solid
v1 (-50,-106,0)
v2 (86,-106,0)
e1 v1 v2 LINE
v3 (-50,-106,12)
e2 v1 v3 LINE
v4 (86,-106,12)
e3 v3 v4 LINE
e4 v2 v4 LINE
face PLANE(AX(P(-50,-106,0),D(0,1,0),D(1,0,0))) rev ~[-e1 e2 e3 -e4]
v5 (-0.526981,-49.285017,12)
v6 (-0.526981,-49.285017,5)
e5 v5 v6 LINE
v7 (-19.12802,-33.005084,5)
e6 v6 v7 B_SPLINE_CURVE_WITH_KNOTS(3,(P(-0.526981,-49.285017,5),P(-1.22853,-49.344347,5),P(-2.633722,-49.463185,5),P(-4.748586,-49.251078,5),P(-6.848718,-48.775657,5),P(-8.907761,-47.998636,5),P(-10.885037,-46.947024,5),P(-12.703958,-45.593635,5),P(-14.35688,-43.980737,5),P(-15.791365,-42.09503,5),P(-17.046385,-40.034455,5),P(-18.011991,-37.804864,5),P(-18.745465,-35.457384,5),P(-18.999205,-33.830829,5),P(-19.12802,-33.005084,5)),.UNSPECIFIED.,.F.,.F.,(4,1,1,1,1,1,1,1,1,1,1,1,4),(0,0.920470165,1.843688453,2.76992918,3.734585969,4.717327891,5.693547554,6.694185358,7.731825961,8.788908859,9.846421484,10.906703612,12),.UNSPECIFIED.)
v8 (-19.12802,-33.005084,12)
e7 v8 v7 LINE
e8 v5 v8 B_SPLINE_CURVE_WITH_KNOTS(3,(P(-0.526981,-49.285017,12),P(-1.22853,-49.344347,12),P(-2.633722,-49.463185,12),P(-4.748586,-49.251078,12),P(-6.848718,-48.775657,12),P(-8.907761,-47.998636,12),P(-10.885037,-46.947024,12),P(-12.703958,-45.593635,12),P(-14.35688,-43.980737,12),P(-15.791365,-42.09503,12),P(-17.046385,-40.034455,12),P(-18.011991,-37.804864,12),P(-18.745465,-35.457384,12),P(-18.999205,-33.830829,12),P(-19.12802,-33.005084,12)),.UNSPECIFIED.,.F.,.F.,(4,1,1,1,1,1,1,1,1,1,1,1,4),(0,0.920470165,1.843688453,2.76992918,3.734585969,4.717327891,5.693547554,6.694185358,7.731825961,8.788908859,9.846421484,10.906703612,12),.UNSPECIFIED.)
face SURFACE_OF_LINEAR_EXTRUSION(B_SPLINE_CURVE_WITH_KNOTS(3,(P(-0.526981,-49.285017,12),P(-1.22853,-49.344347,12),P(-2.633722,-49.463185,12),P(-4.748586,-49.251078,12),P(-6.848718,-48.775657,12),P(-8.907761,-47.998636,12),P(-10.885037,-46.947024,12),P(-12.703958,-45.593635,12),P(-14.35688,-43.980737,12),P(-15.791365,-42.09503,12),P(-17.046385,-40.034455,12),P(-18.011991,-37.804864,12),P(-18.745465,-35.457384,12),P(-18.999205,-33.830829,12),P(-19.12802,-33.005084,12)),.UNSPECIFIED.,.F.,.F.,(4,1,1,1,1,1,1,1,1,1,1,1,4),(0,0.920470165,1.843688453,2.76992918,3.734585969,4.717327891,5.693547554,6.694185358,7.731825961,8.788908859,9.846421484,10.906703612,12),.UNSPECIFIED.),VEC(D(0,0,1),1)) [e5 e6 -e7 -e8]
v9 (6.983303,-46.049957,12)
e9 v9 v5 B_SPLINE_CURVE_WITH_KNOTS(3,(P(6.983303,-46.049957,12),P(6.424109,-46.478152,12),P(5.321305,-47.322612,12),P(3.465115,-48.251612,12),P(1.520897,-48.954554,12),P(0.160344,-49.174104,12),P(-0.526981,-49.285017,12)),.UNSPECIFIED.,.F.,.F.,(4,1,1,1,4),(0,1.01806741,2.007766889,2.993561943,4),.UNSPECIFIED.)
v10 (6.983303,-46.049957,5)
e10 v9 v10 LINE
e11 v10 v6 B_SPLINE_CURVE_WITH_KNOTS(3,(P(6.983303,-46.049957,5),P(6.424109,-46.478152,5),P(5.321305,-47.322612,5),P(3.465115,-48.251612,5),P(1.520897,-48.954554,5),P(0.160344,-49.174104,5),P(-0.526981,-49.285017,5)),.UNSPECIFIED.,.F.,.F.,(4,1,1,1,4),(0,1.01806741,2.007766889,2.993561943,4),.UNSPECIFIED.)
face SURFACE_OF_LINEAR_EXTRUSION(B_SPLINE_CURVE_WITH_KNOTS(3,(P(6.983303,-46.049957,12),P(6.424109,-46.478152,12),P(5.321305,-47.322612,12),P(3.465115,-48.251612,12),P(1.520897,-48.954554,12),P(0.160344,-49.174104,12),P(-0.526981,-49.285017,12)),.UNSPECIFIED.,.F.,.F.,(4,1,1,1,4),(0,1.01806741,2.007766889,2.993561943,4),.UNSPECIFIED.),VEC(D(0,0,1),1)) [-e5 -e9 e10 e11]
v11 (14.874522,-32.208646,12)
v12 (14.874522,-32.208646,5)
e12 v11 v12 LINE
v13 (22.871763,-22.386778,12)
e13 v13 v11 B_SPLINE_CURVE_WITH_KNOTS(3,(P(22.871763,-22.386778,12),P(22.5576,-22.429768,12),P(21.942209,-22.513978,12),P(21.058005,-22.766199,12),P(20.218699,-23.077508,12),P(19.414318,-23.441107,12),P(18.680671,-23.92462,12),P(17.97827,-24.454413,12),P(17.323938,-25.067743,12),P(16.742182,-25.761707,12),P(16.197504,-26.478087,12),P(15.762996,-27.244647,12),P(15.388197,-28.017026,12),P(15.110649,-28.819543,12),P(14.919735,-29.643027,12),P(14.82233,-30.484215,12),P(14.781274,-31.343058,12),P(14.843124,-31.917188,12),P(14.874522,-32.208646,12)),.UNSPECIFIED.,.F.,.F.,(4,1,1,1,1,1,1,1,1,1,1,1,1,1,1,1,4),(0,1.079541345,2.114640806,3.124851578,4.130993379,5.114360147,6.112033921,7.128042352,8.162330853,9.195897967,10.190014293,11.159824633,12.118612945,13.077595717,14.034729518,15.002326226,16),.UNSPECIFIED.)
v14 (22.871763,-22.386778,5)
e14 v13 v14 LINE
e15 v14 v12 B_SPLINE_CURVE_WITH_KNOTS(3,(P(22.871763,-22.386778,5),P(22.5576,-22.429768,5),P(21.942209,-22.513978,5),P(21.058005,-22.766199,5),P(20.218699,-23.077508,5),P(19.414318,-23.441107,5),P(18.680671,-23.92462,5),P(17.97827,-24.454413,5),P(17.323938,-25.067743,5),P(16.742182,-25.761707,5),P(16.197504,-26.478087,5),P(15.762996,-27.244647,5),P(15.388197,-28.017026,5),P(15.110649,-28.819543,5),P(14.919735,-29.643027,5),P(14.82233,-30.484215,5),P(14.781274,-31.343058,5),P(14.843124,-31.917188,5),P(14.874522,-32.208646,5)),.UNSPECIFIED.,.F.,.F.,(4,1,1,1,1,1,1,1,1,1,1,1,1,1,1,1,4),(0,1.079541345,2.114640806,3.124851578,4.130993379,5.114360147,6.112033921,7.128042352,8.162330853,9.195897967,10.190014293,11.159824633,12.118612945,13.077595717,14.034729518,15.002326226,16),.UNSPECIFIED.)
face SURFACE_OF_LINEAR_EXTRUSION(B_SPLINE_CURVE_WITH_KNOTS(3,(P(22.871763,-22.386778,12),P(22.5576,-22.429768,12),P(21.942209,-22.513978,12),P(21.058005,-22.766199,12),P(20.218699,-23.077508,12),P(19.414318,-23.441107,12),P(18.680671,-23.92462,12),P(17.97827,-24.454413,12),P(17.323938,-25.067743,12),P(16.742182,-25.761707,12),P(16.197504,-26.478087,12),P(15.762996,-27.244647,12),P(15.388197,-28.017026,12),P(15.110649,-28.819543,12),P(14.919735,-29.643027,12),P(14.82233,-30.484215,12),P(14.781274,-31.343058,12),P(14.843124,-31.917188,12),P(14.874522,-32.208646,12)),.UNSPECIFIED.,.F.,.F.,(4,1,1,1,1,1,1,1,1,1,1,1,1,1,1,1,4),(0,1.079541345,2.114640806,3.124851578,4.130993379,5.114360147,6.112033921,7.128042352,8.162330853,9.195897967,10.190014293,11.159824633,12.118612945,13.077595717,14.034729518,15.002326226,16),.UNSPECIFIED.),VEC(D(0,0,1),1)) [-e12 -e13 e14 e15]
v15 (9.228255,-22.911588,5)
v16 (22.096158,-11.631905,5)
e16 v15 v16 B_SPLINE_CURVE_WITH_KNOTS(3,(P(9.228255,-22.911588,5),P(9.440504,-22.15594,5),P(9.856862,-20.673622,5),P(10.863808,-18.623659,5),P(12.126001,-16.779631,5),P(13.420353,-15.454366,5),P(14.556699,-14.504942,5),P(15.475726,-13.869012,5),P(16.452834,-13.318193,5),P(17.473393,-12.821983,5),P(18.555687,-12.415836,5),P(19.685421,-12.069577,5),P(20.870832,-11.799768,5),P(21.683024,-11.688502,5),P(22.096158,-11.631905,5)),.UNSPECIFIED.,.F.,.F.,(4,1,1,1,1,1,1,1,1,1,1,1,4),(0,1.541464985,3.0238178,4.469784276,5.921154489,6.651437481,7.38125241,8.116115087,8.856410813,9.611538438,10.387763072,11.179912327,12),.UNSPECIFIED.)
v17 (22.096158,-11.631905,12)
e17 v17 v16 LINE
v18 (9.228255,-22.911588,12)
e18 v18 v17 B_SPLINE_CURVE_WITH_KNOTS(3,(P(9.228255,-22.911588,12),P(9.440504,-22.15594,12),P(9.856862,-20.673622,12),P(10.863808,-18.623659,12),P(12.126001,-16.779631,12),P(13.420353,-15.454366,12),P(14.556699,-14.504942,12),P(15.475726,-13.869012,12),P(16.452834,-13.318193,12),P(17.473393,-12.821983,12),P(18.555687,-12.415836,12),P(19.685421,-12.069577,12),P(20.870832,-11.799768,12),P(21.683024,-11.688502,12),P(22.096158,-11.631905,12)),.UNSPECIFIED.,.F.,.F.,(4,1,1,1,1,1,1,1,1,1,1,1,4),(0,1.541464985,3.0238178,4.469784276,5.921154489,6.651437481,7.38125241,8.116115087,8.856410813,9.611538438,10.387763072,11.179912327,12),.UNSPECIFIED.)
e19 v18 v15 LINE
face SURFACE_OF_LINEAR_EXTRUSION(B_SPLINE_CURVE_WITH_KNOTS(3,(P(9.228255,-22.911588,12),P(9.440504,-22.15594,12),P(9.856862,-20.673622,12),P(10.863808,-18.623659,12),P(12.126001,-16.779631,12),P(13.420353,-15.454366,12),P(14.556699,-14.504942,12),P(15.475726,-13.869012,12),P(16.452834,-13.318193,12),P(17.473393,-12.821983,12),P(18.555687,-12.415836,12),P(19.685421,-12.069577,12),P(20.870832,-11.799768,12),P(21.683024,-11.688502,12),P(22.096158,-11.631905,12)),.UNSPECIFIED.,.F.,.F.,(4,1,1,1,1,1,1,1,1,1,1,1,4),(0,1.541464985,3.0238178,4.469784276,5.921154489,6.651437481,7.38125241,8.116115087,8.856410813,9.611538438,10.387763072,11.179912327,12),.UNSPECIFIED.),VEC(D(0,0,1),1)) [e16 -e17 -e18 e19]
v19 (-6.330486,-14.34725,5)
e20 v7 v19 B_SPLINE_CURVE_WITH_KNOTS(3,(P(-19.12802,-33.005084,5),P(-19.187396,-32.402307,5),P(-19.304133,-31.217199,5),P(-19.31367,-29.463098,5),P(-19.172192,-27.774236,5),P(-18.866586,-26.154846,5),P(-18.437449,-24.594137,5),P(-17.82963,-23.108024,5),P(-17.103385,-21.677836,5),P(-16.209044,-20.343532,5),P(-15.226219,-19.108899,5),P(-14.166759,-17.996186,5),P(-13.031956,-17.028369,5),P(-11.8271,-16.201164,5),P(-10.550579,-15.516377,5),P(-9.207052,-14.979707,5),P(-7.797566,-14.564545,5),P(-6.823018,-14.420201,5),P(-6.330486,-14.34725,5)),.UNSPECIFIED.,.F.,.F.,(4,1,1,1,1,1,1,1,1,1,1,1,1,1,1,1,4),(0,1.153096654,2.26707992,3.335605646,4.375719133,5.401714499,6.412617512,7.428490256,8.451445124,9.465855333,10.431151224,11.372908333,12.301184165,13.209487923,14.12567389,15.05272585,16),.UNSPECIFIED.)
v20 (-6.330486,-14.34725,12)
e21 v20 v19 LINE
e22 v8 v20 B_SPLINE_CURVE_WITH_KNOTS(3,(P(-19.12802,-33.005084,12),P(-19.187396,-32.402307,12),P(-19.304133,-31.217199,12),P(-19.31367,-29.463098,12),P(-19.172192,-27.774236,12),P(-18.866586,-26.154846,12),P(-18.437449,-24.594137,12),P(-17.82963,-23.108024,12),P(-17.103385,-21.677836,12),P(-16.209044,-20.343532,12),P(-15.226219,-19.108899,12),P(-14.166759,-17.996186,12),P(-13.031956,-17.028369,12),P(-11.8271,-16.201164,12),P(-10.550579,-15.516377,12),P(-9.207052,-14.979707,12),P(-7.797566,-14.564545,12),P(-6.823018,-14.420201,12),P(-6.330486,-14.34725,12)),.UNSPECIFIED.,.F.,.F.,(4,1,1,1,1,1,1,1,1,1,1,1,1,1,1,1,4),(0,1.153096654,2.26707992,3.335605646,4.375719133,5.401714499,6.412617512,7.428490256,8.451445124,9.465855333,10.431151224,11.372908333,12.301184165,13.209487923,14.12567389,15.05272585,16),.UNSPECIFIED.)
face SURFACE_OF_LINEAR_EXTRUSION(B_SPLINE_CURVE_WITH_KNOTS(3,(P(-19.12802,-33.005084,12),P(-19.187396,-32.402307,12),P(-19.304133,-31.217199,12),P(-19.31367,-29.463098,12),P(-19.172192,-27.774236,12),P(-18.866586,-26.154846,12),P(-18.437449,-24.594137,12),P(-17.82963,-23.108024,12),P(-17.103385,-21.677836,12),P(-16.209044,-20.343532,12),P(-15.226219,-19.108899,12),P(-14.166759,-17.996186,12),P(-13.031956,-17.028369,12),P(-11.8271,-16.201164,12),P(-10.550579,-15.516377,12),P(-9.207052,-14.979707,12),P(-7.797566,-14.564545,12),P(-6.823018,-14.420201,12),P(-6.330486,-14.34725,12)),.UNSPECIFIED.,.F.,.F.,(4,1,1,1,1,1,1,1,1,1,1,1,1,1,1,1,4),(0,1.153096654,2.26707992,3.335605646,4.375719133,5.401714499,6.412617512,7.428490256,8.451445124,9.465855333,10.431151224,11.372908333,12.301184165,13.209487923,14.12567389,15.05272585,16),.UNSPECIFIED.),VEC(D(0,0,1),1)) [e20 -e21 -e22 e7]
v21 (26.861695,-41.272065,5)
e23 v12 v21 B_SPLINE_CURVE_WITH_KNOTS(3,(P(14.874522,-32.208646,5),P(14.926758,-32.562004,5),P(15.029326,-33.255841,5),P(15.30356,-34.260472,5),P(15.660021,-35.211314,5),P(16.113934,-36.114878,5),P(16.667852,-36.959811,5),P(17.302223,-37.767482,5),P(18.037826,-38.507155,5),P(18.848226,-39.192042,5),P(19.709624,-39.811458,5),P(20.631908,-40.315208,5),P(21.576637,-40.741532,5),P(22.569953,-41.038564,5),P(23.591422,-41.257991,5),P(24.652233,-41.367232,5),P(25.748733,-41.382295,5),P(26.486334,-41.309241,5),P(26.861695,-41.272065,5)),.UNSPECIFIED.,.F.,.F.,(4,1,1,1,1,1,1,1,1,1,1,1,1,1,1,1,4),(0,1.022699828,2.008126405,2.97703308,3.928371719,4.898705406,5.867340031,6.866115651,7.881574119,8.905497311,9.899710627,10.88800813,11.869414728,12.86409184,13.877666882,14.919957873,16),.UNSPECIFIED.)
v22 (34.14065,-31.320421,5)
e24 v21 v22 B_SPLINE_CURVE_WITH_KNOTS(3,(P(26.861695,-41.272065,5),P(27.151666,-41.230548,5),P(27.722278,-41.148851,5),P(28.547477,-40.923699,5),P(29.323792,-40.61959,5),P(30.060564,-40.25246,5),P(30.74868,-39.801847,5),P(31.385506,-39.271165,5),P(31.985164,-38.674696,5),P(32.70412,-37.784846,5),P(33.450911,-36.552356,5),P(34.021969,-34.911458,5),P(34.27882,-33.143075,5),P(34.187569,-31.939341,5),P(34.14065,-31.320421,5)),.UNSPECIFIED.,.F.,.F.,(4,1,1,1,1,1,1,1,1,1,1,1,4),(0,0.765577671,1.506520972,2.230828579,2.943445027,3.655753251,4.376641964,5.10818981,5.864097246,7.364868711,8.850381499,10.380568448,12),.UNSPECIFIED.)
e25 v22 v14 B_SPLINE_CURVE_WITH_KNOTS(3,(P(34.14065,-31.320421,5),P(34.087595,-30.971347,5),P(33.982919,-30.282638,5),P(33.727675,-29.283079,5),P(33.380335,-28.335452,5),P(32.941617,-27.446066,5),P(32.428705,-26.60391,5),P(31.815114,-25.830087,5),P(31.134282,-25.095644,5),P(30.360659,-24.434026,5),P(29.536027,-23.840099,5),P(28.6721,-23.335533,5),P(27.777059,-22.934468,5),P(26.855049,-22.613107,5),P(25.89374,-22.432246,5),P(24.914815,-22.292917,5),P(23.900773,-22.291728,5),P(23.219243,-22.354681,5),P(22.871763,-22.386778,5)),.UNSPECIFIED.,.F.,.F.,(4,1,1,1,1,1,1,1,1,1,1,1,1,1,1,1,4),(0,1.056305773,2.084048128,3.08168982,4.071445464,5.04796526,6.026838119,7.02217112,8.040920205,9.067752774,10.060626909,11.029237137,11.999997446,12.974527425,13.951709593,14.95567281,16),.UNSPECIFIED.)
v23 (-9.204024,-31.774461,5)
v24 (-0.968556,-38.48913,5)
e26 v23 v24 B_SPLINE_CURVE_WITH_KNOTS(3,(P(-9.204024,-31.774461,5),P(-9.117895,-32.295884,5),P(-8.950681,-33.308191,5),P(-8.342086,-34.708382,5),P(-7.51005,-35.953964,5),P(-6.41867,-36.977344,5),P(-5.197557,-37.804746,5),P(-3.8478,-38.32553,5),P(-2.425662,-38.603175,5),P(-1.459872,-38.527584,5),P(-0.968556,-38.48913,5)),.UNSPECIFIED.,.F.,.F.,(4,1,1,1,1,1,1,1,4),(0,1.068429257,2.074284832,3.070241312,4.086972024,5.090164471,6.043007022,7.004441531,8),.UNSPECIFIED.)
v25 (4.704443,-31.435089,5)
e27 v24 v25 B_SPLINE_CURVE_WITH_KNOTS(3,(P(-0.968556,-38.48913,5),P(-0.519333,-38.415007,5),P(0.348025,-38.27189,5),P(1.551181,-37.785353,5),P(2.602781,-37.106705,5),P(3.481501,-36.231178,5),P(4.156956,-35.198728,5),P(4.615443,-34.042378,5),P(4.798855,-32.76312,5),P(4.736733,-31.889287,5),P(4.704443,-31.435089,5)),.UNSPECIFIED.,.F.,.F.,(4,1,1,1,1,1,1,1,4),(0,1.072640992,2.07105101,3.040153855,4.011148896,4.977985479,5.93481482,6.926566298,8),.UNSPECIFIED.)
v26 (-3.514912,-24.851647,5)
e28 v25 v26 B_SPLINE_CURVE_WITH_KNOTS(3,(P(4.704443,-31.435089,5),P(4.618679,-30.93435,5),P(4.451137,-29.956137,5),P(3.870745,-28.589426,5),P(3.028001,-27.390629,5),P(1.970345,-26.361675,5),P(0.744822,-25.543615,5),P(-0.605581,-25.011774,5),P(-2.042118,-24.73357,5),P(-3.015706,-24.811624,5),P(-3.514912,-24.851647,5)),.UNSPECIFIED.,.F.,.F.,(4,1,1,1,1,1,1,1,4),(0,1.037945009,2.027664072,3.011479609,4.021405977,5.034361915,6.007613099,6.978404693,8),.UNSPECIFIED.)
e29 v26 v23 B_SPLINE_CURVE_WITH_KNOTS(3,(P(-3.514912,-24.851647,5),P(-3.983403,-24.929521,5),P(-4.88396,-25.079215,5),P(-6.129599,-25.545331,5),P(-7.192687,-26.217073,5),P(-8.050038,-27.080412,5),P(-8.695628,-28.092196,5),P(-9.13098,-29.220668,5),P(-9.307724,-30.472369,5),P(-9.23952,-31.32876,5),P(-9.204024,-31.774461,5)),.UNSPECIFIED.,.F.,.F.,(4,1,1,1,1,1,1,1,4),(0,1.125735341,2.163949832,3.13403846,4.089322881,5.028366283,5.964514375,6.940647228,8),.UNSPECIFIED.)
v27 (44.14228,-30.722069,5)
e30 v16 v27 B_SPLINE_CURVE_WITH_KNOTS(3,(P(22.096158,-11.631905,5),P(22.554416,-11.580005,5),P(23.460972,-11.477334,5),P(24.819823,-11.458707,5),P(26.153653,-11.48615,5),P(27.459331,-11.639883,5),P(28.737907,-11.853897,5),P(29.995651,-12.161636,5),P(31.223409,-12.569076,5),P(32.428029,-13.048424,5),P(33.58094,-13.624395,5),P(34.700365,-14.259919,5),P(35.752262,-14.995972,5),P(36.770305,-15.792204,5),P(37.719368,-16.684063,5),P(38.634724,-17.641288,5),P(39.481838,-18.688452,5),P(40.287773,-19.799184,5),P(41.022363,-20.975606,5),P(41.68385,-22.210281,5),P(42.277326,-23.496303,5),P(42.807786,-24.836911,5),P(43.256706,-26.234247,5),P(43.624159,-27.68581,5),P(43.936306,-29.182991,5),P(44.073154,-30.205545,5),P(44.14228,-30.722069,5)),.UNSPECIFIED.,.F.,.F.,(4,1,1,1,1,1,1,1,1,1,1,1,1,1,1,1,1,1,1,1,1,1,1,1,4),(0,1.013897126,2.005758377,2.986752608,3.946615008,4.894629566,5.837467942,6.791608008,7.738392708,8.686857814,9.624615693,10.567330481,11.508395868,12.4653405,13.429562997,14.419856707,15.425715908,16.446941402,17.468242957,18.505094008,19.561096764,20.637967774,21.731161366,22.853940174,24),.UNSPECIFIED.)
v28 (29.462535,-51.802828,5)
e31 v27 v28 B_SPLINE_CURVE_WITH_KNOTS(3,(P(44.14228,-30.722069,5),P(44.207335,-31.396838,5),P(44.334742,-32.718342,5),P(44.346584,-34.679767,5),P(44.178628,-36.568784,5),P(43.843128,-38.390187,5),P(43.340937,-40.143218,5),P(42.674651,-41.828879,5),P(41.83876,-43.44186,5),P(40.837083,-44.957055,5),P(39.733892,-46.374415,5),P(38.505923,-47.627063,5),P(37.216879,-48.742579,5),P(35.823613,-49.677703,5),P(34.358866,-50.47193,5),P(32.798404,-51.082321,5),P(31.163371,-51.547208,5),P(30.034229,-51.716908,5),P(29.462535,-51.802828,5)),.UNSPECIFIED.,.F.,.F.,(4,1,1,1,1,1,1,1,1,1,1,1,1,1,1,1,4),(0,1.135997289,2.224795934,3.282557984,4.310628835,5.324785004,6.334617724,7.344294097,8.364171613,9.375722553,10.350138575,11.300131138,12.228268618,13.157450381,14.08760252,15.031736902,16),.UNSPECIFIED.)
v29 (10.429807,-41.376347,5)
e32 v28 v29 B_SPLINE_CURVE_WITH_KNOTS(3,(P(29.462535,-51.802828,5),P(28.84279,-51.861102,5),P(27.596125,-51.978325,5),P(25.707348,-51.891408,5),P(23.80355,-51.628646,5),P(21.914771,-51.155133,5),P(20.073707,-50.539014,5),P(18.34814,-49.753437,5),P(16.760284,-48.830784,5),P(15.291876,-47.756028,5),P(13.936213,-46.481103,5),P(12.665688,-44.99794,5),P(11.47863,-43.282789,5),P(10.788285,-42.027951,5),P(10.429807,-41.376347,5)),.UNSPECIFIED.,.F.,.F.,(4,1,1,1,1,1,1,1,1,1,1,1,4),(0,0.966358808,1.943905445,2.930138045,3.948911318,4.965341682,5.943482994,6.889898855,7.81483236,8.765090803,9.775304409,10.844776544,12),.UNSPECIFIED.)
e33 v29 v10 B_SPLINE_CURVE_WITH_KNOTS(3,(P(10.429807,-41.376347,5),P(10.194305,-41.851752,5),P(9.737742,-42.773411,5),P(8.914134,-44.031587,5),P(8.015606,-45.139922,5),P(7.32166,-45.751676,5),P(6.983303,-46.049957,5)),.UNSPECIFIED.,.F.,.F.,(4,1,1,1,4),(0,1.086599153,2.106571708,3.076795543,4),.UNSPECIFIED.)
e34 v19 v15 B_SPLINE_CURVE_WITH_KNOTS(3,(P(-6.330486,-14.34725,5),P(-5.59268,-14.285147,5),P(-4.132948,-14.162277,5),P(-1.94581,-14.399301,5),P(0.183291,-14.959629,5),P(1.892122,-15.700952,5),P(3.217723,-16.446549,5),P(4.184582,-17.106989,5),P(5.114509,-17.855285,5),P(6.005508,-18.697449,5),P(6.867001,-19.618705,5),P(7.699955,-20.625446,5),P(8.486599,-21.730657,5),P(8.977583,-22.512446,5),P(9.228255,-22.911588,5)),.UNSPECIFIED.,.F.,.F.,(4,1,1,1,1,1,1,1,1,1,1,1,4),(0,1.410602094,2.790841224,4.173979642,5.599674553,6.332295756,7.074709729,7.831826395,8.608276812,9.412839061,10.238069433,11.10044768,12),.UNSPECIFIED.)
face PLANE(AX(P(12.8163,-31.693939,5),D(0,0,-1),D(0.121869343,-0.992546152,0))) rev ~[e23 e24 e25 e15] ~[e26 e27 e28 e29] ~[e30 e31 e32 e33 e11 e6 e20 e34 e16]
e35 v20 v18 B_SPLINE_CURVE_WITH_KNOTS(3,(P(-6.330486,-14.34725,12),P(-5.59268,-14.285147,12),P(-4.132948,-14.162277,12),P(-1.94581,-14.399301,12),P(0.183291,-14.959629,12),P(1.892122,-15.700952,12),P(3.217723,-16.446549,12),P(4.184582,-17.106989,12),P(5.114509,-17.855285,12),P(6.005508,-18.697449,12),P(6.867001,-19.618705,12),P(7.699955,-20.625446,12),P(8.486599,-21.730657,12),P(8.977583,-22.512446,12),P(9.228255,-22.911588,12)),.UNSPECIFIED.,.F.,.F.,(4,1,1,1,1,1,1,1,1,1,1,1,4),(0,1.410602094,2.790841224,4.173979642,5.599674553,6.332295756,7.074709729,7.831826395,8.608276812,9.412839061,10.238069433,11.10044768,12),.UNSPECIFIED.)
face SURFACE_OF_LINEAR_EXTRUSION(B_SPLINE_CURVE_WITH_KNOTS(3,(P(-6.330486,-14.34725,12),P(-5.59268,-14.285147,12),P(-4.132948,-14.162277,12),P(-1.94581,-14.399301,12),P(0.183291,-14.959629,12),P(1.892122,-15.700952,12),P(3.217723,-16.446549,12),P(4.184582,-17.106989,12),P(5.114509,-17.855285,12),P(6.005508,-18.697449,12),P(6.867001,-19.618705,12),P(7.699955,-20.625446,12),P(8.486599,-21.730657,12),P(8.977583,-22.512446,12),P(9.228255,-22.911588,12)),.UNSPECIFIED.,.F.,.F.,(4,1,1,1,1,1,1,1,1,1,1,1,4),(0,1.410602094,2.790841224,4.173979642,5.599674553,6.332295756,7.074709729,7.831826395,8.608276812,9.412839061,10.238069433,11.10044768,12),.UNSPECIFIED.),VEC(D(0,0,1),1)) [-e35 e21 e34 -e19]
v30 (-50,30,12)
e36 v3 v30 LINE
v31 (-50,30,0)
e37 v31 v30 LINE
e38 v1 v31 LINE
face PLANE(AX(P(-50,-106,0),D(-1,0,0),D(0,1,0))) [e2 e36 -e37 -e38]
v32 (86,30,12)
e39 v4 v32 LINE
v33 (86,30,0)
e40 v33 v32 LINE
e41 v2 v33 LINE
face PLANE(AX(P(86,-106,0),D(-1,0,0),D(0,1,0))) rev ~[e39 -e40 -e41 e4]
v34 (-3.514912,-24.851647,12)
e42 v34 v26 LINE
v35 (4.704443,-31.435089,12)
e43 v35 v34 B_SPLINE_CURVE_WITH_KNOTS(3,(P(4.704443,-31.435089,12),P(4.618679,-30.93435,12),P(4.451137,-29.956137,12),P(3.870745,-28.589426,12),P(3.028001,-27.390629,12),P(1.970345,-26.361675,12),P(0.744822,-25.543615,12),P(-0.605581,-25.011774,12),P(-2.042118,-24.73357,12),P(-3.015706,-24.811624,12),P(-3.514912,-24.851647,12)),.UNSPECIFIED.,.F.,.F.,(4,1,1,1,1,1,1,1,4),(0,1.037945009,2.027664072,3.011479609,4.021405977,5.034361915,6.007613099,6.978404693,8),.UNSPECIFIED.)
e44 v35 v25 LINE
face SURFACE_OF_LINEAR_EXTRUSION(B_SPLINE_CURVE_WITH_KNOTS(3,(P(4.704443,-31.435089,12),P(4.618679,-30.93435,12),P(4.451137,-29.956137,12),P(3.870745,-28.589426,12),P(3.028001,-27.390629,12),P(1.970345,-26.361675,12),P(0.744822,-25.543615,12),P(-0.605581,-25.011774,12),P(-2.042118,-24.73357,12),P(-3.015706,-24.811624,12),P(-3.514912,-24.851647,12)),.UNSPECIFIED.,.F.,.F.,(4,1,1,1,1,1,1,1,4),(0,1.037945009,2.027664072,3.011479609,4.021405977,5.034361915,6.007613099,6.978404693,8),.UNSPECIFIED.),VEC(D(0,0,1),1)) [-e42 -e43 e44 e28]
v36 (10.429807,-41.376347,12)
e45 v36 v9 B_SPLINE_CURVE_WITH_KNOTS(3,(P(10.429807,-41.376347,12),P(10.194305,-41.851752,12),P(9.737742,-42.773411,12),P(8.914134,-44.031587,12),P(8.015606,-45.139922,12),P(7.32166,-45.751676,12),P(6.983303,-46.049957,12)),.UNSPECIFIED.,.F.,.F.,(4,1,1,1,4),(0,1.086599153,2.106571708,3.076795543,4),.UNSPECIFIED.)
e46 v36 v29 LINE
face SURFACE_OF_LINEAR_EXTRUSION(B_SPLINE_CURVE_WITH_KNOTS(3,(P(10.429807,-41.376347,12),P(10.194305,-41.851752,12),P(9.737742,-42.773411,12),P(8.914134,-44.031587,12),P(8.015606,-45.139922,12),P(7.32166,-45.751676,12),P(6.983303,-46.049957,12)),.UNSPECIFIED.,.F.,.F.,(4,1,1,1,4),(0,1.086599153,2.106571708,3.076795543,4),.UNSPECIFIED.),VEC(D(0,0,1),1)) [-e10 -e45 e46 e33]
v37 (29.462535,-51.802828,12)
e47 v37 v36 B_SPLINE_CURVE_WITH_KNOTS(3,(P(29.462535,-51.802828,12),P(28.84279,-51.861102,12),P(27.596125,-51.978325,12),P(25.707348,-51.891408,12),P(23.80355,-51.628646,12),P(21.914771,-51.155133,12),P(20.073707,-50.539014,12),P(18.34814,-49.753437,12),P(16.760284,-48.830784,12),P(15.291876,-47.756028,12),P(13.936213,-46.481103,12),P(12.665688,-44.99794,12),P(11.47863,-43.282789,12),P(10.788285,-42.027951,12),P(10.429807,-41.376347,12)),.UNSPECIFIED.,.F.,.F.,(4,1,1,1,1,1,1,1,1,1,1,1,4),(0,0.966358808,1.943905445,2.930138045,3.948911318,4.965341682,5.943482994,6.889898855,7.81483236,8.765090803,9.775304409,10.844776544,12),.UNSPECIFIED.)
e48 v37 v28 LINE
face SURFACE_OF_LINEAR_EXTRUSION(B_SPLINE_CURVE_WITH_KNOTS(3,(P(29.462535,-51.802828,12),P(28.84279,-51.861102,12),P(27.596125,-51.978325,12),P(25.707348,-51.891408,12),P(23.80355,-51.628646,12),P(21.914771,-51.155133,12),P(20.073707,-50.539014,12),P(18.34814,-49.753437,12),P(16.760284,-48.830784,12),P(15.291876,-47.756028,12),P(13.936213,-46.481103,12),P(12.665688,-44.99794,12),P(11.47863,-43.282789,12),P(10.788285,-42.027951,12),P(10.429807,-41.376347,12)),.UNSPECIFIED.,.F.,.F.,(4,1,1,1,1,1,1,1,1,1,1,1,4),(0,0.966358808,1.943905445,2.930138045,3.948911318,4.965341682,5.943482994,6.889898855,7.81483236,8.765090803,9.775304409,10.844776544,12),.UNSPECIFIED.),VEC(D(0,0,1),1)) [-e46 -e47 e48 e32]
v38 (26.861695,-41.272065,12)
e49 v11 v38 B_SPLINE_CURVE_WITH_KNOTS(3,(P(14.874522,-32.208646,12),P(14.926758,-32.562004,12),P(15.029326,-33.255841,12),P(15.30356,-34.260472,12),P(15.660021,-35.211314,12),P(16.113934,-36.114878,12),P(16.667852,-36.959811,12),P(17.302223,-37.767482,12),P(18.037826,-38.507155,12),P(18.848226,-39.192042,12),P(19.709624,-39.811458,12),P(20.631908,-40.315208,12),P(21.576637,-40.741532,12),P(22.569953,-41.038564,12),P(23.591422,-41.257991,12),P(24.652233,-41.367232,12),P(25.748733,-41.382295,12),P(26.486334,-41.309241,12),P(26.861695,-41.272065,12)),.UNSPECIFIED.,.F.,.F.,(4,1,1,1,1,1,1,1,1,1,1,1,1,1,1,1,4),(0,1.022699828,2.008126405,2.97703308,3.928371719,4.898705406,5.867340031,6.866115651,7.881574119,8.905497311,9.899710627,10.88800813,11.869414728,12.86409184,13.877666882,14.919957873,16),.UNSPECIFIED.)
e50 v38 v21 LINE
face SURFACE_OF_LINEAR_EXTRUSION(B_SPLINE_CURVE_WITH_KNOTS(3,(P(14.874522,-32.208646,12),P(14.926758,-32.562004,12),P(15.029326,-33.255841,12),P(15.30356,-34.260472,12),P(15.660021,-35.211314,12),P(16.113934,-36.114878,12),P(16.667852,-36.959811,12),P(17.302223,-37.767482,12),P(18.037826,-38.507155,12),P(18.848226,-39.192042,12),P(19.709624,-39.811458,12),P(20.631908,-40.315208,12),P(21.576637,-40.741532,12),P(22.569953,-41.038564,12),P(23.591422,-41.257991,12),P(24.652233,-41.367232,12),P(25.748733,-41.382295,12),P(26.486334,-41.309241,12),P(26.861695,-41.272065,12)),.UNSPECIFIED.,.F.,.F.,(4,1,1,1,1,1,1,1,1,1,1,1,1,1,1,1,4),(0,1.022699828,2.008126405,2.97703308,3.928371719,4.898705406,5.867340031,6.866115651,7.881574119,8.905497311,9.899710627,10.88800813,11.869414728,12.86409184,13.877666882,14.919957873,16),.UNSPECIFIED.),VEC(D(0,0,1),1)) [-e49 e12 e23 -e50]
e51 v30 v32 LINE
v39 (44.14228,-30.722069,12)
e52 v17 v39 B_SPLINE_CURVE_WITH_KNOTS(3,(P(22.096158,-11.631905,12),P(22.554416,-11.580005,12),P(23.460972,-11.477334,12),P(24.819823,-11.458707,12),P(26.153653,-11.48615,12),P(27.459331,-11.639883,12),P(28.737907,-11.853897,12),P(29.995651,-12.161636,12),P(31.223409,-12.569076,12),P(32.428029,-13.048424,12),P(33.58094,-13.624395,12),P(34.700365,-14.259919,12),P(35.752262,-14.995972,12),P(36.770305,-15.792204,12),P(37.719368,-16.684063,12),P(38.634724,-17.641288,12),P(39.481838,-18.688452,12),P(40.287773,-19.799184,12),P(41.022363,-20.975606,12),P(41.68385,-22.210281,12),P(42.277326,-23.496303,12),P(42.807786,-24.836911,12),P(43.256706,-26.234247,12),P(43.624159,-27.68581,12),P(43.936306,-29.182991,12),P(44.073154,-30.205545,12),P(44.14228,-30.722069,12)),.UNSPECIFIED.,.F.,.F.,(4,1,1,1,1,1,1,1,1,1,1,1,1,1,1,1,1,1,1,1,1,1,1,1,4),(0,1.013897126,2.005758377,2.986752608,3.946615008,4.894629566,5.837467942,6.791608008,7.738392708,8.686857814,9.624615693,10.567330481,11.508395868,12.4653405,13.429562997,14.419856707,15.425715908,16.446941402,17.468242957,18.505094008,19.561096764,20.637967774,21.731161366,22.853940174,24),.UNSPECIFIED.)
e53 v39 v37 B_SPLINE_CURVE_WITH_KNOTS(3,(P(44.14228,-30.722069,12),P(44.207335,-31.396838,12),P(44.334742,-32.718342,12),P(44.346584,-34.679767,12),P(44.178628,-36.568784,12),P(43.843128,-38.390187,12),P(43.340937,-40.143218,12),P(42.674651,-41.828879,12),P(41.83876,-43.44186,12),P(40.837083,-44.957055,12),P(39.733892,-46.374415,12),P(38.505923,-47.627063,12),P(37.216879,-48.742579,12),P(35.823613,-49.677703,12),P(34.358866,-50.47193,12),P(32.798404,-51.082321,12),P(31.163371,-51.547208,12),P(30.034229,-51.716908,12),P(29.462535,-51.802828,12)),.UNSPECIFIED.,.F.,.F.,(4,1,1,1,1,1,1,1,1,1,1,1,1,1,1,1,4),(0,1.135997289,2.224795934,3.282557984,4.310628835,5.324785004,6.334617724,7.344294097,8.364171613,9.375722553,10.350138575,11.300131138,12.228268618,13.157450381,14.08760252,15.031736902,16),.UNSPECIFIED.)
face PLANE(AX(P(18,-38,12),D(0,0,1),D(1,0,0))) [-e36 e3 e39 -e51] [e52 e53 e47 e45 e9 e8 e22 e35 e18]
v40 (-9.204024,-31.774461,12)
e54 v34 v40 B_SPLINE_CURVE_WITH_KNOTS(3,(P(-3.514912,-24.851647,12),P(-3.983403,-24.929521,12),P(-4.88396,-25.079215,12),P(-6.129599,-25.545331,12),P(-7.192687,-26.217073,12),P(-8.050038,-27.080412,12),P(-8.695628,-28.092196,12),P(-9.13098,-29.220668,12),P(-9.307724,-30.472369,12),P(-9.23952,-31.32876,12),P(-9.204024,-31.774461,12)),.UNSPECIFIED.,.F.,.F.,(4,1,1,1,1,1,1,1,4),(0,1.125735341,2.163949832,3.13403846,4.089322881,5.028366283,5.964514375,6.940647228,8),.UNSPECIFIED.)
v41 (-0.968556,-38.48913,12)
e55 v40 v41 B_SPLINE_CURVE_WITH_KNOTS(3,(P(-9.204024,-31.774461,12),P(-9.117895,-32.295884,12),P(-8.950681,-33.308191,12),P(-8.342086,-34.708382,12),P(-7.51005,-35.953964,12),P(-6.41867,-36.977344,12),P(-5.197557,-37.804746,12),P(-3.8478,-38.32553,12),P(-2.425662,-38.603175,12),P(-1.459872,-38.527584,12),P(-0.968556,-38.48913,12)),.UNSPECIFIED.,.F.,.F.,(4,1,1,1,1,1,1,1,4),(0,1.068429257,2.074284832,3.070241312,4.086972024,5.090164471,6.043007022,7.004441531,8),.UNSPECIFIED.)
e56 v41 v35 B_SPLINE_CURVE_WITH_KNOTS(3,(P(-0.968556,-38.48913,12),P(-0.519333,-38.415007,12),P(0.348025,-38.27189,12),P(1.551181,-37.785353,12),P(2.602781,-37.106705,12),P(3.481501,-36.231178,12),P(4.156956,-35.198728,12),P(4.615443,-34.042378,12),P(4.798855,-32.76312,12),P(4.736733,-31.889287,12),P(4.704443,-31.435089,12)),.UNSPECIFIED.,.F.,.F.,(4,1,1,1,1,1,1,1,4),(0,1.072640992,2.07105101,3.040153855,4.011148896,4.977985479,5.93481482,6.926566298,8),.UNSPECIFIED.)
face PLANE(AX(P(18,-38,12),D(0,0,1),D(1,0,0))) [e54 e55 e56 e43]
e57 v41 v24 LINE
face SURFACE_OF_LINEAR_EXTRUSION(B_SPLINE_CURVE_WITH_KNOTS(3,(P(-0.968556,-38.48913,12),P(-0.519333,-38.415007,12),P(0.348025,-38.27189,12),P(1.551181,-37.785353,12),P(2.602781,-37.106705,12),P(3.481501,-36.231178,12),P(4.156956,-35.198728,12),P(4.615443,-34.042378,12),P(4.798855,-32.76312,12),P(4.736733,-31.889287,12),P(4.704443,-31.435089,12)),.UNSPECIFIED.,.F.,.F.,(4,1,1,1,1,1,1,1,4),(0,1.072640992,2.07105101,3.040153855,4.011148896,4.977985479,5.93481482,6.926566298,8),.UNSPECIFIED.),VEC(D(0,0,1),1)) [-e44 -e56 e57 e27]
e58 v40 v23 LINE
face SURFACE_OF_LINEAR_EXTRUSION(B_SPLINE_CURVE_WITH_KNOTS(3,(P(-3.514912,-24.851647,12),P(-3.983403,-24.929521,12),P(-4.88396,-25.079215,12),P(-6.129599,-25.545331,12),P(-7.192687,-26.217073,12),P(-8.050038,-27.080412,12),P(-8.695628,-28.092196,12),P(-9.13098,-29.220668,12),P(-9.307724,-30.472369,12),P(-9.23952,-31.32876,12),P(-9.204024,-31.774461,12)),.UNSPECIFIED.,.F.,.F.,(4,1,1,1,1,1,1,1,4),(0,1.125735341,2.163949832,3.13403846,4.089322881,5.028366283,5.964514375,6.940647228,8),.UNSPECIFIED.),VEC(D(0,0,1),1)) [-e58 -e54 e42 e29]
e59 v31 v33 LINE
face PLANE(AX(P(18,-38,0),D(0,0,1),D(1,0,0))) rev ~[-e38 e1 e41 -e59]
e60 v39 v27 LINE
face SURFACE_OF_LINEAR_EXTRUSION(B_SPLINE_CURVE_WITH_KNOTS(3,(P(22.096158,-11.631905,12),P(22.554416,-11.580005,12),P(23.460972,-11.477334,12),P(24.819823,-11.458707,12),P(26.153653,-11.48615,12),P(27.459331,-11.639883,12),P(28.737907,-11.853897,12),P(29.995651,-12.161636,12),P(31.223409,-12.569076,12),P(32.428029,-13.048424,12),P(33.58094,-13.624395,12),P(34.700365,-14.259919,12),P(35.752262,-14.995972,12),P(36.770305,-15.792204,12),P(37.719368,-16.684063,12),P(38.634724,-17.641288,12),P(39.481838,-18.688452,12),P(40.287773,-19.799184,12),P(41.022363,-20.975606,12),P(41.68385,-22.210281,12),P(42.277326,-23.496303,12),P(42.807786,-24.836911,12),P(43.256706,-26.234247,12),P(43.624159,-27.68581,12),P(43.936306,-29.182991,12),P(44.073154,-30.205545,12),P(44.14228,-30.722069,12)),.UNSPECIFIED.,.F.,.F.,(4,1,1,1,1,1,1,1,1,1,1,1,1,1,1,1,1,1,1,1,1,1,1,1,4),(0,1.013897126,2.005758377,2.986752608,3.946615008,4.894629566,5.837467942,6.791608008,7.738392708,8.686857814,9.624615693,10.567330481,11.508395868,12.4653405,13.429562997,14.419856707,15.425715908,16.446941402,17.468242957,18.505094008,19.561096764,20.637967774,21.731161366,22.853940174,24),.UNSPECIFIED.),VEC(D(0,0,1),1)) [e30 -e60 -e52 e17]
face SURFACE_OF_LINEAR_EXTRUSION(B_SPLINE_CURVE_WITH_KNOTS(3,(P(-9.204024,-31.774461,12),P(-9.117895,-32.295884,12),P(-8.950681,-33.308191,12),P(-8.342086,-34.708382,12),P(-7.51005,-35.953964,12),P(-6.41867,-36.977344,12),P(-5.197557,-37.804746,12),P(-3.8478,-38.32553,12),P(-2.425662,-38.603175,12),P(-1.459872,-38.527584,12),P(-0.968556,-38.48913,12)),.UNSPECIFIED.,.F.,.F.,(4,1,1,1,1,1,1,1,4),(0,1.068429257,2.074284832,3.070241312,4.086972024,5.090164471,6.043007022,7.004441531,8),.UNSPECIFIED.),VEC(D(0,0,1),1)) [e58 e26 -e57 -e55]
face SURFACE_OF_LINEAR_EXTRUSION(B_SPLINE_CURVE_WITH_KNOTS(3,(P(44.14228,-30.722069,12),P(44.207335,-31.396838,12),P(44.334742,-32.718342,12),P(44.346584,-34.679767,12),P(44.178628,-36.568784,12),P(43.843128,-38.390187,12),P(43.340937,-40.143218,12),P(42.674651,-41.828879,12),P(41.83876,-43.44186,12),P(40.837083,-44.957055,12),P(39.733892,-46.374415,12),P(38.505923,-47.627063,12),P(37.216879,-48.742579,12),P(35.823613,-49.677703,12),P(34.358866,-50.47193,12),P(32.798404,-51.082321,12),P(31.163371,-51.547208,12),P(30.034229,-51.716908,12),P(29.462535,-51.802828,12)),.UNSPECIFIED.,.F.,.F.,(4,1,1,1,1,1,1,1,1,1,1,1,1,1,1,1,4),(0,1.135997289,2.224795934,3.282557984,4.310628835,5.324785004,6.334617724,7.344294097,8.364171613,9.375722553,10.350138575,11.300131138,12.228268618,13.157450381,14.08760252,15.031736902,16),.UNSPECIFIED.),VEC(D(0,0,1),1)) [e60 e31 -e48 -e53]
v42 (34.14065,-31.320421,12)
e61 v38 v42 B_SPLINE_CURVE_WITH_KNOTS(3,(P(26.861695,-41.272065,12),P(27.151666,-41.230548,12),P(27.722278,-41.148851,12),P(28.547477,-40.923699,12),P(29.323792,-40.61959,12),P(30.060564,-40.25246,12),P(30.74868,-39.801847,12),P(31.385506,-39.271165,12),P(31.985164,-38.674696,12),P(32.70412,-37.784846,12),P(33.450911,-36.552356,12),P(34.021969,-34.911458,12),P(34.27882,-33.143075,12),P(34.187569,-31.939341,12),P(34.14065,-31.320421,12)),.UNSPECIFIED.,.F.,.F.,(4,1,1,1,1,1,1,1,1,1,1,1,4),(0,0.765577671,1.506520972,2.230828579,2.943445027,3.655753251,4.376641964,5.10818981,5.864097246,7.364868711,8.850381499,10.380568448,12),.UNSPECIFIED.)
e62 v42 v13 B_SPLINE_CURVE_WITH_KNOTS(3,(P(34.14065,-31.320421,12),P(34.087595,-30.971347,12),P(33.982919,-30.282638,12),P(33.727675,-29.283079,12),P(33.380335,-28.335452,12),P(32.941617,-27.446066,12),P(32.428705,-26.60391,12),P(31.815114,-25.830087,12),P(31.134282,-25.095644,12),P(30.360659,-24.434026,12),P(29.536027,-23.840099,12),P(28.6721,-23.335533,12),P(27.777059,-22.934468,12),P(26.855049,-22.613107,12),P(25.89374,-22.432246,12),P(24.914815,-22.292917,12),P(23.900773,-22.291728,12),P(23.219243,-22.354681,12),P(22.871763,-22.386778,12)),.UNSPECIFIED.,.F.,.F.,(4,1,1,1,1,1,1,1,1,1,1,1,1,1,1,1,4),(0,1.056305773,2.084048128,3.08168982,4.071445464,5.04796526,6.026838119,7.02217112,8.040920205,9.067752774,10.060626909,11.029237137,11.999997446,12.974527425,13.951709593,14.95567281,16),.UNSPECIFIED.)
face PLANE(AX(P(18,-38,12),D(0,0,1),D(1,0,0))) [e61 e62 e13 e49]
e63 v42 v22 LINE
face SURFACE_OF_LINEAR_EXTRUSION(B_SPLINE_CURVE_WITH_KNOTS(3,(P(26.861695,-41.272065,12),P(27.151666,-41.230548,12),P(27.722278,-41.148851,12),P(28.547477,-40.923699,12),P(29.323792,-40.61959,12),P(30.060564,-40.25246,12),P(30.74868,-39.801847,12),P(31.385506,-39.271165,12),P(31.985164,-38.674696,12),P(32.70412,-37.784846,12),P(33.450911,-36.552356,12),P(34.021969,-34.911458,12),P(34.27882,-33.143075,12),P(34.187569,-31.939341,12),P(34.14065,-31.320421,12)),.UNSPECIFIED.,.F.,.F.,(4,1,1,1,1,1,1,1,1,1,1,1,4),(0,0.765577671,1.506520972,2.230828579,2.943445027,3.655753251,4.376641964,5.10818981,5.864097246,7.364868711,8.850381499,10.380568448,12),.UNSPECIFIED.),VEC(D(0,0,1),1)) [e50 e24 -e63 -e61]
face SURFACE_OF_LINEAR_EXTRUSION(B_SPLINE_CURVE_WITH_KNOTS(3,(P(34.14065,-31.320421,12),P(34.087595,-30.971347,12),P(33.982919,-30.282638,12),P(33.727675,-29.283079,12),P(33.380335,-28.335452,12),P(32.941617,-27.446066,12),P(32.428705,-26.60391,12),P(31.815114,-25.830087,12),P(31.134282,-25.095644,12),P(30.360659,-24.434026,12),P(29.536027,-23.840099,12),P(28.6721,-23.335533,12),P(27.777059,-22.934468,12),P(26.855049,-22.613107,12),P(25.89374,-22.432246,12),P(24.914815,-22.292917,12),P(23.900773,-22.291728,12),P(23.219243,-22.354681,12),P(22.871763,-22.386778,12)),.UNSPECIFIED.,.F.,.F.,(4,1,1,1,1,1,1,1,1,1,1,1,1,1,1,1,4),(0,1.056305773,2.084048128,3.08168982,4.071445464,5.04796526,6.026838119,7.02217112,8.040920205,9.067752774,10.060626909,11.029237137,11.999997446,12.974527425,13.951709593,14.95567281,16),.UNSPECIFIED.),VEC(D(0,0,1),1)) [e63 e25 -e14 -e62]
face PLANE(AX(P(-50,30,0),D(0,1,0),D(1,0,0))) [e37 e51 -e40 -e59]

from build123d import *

# Parameters (mm, degrees)
SKIZZE1_W                       = 136
SKIZZE1_H                       = 136
AUFSATZ_LINEAR_AUSTRAGEN1_DEPTH = 12
SCHNITT_LINEAR_AUSTRAGEN2_DEPTH = 7


with BuildPart() as part:
    # Skizze1 → Aufsatz-Linear austragen1 (new body)
    with BuildSketch(Plane.XY):
        with Locations((18, -38)):
            Rectangle(SKIZZE1_W, SKIZZE1_H)
    extrude(amount=AUFSATZ_LINEAR_AUSTRAGEN1_DEPTH)

    # Skizze2 → Schnitt-Linear austragen2 (cut)
    with BuildSketch(Plane(origin=(31.817178146, 33.536064215, 12), x_dir=(-0.121869343, 0.992546152, 0), z_dir=(0, 0, 1))):
        with BuildLine():
            add(Edge.make_bspline(
                [(-53.274003062, 29.299786841), (-52.549854037, 28.997029862), (-51.129325688, 28.403126042), (-49.217358679, 27.153857855), (-47.540898563, 25.676342761), (-46.383253592, 24.230129356), (-45.579392411, 22.986547621), (-45.060203572, 21.996870887), (-44.632569988, 20.959918203), (-44.264434, 19.886493576), (-43.993212362, 18.762770223), (-43.787214797, 17.599258828), (-43.663882177, 16.389802125), (-43.652426375, 15.570103704), (-43.646599216, 15.153152225)],
                knots=[0, 0, 0, 0, 1.541464985, 3.0238178, 4.469784276, 5.921154489, 6.651437481, 7.38125241, 8.116115087, 8.856410813, 9.611538438, 10.387763072, 11.179912327, 12, 12, 12, 12], degree=3))
            add(Edge.make_bspline(
                [(-43.646599216, 15.153152225), (-43.650934028, 14.691984843), (-43.659509441, 13.779673016), (-43.806624249, 12.42868072), (-43.996415085, 11.108137934), (-44.308124238, 9.830927438), (-44.67636284, 8.587963111), (-45.135088006, 7.377098838), (-45.689116874, 6.208146216), (-46.311698148, 5.070923482), (-47.023881325, 3.99679881), (-47.791091102, 2.963169428), (-48.649851657, 2.008814583), (-49.564217558, 1.095396539), (-50.565090055, 0.262097691), (-51.626733483, -0.529779066), (-52.769329329, -1.242961105), (-53.9700016, -1.907524654), (-55.227178587, -2.493269476), (-56.533265143, -2.999356359), (-57.882028006, -3.431682546), (-59.277289658, -3.794809881), (-60.718920323, -4.070090999), (-62.204444332, -4.257904021), (-63.72850672, -4.385263221), (-64.760116786, -4.396473554), (-65.2812146, -4.402136236)],
                knots=[0, 0, 0, 0, 1.013897126, 2.005758377, 2.986752608, 3.946615008, 4.894629566, 5.837467942, 6.791608008, 7.738392708, 8.686857814, 9.624615693, 10.567330481, 11.508395868, 12.4653405, 13.429562997, 14.419856707, 15.425715908, 16.446941402, 17.468242957, 18.505094008, 19.561096764, 20.637967774, 21.731161366, 22.853940174, 24, 24, 24, 24], degree=3))
            add(Edge.make_bspline(
                [(-65.2812146, -4.402136236), (-65.958882909, -4.384472392), (-67.286063628, -4.349878605), (-69.234310849, -4.122595392), (-71.088778804, -3.725677952), (-72.855718687, -3.170705103), (-74.534480878, -2.458616989), (-76.126377078, -1.59186708), (-77.62546562, -0.565633337), (-79.007292948, 0.613232811), (-80.279643814, 1.880933964), (-81.37330296, 3.252409198), (-82.323408368, 4.667792163), (-83.081765939, 6.164635184), (-83.691564724, 7.71525695), (-84.107234052, 9.338475128), (-84.36939561, 11.017975802), (-84.400222214, 12.159382785), (-84.415829985, 12.737286841)],
                knots=[0, 0, 0, 0, 1.135997289, 2.224795934, 3.282557984, 4.310628835, 5.324785004, 6.334617724, 7.344294097, 8.364171613, 9.375722553, 10.350138575, 11.300131138, 12.228268618, 13.157450381, 14.08760252, 15.031736902, 16, 16, 16, 16], degree=3))
            add(Edge.make_bspline(
                [(-84.415829985, 12.737286841), (-84.398141873, 13.359514248), (-84.362560867, 14.611172777), (-84.046108264, 16.475278619), (-83.553289979, 18.332862908), (-82.85312214, 20.149856941), (-82.017226301, 21.902111555), (-81.027210856, 23.519078393), (-79.917924395, 24.982656379), (-78.672225452, 26.309139367), (-77.241589619, 27.499322426), (-75.614643729, 28.579625697), (-73.767611883, 29.54881074), (-72.437994582, 30.081084152), (-71.747560754, 30.357479148)],
                knots=[0, 0, 0, 0, 0.966358808, 1.943905445, 2.930138045, 3.948911318, 4.965341682, 5.943482994, 6.889898855, 7.81483236, 8.765090803, 9.775304409, 10.844776544, 12, 12, 12, 12], degree=3))
            add(Edge.make_bspline(
                [(-71.747560754, 30.357479148), (-72.190721524, 30.64916288), (-73.049869939, 31.21464528), (-74.198295254, 32.185447077), (-75.188865659, 33.212349202), (-75.711488475, 33.97567747), (-75.966310754, 34.347863764)],
                knots=[0, 0, 0, 0, 1.086599153, 2.106571708, 3.076795543, 4, 4, 4, 4], degree=3))
            add(Edge.make_bspline(
                [(-75.966310754, 34.347863764), (-76.323165999, 34.955072604), (-77.026932898, 36.152570718), (-77.722795567, 38.108141332), (-78.183557617, 40.123534227), (-78.235661796, 41.500702427), (-78.261983831, 42.196421456)],
                knots=[0, 0, 0, 0, 1.01806741, 2.007766889, 2.993561943, 4, 4, 4, 4], degree=3))
            add(Edge.make_bspline(
                [(-78.261983831, 42.196421456), (-78.23537461, 42.899971663), (-78.182076723, 44.309172574), (-77.713813486, 46.382422626), (-76.98599469, 48.408961783), (-75.963831699, 50.35796208), (-74.679088677, 52.192340379), (-73.1141166, 53.832767013), (-71.311800914, 55.27680529), (-69.26532957, 56.470788107), (-67.067165132, 57.465332003), (-64.736515258, 58.152022532), (-62.317145024, 58.593943299), (-60.671791448, 58.647564987), (-59.836503062, 58.674786841)],
                knots=[0, 0, 0, 0, 0.920470165, 1.843688453, 2.76992918, 3.734585969, 4.717327891, 5.693547554, 6.694185358, 7.731825961, 8.788908859, 9.846421484, 10.906703612, 12, 12, 12, 12], degree=3))
            add(Edge.make_bspline(
                [(-59.836503062, 58.674786841), (-59.230982927, 58.660259621), (-58.040482085, 58.63169795), (-56.29829286, 58.427393175), (-54.639261562, 58.081149502), (-53.069185983, 57.580466848), (-51.57240866, 56.964326646), (-50.17144743, 56.179926487), (-48.840427099, 55.284798301), (-47.625062234, 54.234512576), (-46.51940804, 53.108549537), (-45.544104678, 51.921381805), (-44.721799141, 50.677089491), (-44.047594914, 49.380403728), (-43.523480515, 48.029943504), (-43.154546402, 46.631027002), (-42.914252151, 45.181451885), (-42.889751129, 44.19657612), (-42.877368446, 43.698825302)],
                knots=[0, 0, 0, 0, 1.153096654, 2.26707992, 3.335605646, 4.375719133, 5.401714499, 6.412617512, 7.428490256, 8.451445124, 9.465855333, 10.431151224, 11.372908333, 12.301184165, 13.209487923, 14.12567389, 15.05272585, 16, 16, 16, 16], degree=3))
            add(Edge.make_bspline(
                [(-42.877368446, 43.698825302), (-42.905643962, 42.958950067), (-42.961586368, 41.495125281), (-43.463389482, 39.353175554), (-44.279012696, 37.308231587), (-45.223063581, 35.70248234), (-46.124653996, 34.47762788), (-46.898000859, 33.598462819), (-47.754048911, 32.766661016), (-48.698521395, 31.984937493), (-49.71790019, 31.242139238), (-50.818648115, 30.538084778), (-52.011488975, 29.891995585), (-52.847287007, 29.499946967), (-53.274003062, 29.299786841)],
                knots=[0, 0, 0, 0, 1.410602094, 2.790841224, 4.173979642, 5.599674553, 6.332295756, 7.074709729, 7.831826395, 8.608276812, 9.412839061, 10.238069433, 11.10044768, 12, 12, 12, 12], degree=3))
        make_face()
        with BuildLine():
            add(Edge.make_bspline(
                [(-59.824483831, 48.674786841), (-60.352516059, 48.652845307), (-61.377655752, 48.610247269), (-62.841578901, 48.176829263), (-64.179276715, 47.502792548), (-65.328034146, 46.544266315), (-66.298085013, 45.433090348), (-66.979481403, 44.156862114), (-67.428371825, 42.779160436), (-67.471044622, 41.81135706), (-67.492753062, 41.31901761)],
                knots=[0, 0, 0, 0, 1.068429257, 2.074284832, 3.070241312, 4.086972024, 5.090164471, 6.043007022, 7.004441531, 8, 8, 8, 8], degree=3))
            add(Edge.make_bspline(
                [(-67.492753062, 41.31901761), (-67.473929185, 40.864109489), (-67.437584116, 39.985774676), (-67.10130135, 38.732293616), (-66.555869581, 37.605825006), (-65.793957463, 36.626955052), (-64.85152003, 35.830710586), (-63.759665259, 35.234717657), (-62.512294914, 34.89677058), (-61.637404139, 34.851936614), (-61.182656908, 34.828632995)],
                knots=[0, 0, 0, 0, 1.072640992, 2.07105101, 3.040153855, 4.011148896, 4.977985479, 5.93481482, 6.926566298, 8, 8, 8, 8], degree=3))
            add(Edge.make_bspline(
                [(-61.182656908, 34.828632995), (-60.675198217, 34.852732592), (-59.683858844, 34.899812049), (-58.25660237, 35.309317711), (-56.964037268, 35.9996827), (-55.813856169, 36.92405734), (-54.852540828, 38.040749573), (-54.160091132, 39.316271312), (-53.708891249, 40.708196247), (-53.667713225, 41.684039252), (-53.646599216, 42.184402225)],
                knots=[0, 0, 0, 0, 1.037945009, 2.027664072, 3.011479609, 4.021405977, 5.034361915, 6.007613099, 6.978404693, 8, 8, 8, 8], degree=3))
            add(Edge.make_bspline(
                [(-53.646599216, 42.184402225), (-53.666798435, 42.658891111), (-53.705626475, 43.570979511), (-54.016462781, 44.86413864), (-54.553639658, 46.001166987), (-55.306058321, 46.957341882), (-56.231623271, 47.721425808), (-57.298628269, 48.291058685), (-58.519459621, 48.619028893), (-59.377778434, 48.655701083), (-59.824483831, 48.674786841)],
                knots=[0, 0, 0, 0, 1.125735341, 2.163949832, 3.13403846, 4.089322881, 5.028366283, 5.964514375, 6.940647228, 8, 8, 8, 8], degree=3))
        make_face(mode=Mode.SUBTRACT)
        with BuildLine():
            add(Edge.make_bspline(
                [(-63.189868446, 24.828632995), (-63.546958578, 24.819849725), (-64.248124359, 24.802603301), (-65.278687486, 24.65284738), (-66.26588341, 24.414922112), (-67.218030368, 24.074508741), (-68.124171376, 23.627691128), (-69.003132144, 23.096478873), (-69.826939518, 22.456502489), (-70.60548384, 21.735610071), (-71.325260982, 20.956120151), (-71.937654968, 20.102103173), (-72.475933951, 19.21637189), (-72.891806632, 18.266658625), (-73.23408407, 17.279544911), (-73.471791767, 16.239953845), (-73.620371311, 15.153463462), (-73.637753519, 14.412457228), (-73.646599216, 14.035363764)],
                knots=[0, 0, 0, 0, 1.022699828, 2.008126405, 2.97703308, 3.928371719, 4.898705406, 5.867340031, 6.866115651, 7.881574119, 8.905497311, 9.899710627, 10.88800813, 11.869414728, 12.86409184, 13.877666882, 14.919957873, 16, 16, 16, 16], degree=3))
            add(Edge.make_bspline(
                [(-73.646599216, 14.035363764), (-73.640730826, 13.742494084), (-73.629182877, 13.166178536), (-73.506274856, 12.319691722), (-73.299042285, 11.512101699), (-73.024438513, 10.736080079), (-72.661044756, 9.998176326), (-72.211928017, 9.301423414), (-71.69298417, 8.63354458), (-70.897386445, 7.811501758), (-69.765093278, 6.920074697), (-68.20602131, 6.153297916), (-66.48212127, 5.682850004), (-65.276239729, 5.626722634), (-64.6562146, 5.597863764)],
                knots=[0, 0, 0, 0, 0.765577671, 1.506520972, 2.230828579, 2.943445027, 3.655753251, 4.376641964, 5.10818981, 5.864097246, 7.364868711, 8.850381499, 10.380568448, 12, 12, 12, 12], degree=3))
            add(Edge.make_bspline(
                [(-64.6562146, 5.597863764), (-64.303276767, 5.60798212), (-63.606944844, 5.627945223), (-62.583729736, 5.759470932), (-61.600836455, 5.98873611), (-60.664613203, 6.315794911), (-59.766226508, 6.72225095), (-58.923393343, 7.236963036), (-58.111452735, 7.823213793), (-57.360485007, 8.510439488), (-56.670487949, 9.256542712), (-56.064396729, 10.052539505), (-55.557242701, 10.892031566), (-55.125912347, 11.768004638), (-54.829245921, 12.70010661), (-54.571654283, 13.654754893), (-54.446892724, 14.661094212), (-54.426319372, 15.345216002), (-54.415829985, 15.69401761)],
                knots=[0, 0, 0, 0, 1.056305773, 2.084048128, 3.08168982, 4.071445464, 5.04796526, 6.026838119, 7.02217112, 8.040920205, 9.067752774, 10.060626909, 11.029237137, 11.999997446, 12.974527425, 13.951709593, 14.95567281, 16, 16, 16, 16], degree=3))
            add(Edge.make_bspline(
                [(-54.415829985, 15.69401761), (-54.420212832, 16.011077436), (-54.428798095, 16.632144566), (-54.571380931, 17.540495533), (-54.778084438, 18.411484434), (-55.040943582, 19.254181447), (-55.431443296, 20.041285755), (-55.871685818, 20.803016633), (-56.400701962, 21.527217186), (-57.018595147, 22.18920949), (-57.663255138, 22.817132274), (-58.37114809, 23.341821526), (-59.092094086, 23.807956713), (-59.854804271, 24.181238548), (-60.648883729, 24.471086265), (-61.47193078, 24.670280394), (-62.319368408, 24.815697034), (-62.896756264, 24.824277236), (-63.189868446, 24.828632995)],
                knots=[0, 0, 0, 0, 1.079541345, 2.114640806, 3.124851578, 4.130993379, 5.114360147, 6.112033921, 7.128042352, 8.162330853, 9.195897967, 10.190014293, 11.159824633, 12.118612945, 13.077595717, 14.034729518, 15.002326226, 16, 16, 16, 16], degree=3))
        make_face(mode=Mode.SUBTRACT)
    extrude(amount=-SCHNITT_LINEAR_AUSTRAGEN2_DEPTH, mode=Mode.SUBTRACT)


solid = part.part
